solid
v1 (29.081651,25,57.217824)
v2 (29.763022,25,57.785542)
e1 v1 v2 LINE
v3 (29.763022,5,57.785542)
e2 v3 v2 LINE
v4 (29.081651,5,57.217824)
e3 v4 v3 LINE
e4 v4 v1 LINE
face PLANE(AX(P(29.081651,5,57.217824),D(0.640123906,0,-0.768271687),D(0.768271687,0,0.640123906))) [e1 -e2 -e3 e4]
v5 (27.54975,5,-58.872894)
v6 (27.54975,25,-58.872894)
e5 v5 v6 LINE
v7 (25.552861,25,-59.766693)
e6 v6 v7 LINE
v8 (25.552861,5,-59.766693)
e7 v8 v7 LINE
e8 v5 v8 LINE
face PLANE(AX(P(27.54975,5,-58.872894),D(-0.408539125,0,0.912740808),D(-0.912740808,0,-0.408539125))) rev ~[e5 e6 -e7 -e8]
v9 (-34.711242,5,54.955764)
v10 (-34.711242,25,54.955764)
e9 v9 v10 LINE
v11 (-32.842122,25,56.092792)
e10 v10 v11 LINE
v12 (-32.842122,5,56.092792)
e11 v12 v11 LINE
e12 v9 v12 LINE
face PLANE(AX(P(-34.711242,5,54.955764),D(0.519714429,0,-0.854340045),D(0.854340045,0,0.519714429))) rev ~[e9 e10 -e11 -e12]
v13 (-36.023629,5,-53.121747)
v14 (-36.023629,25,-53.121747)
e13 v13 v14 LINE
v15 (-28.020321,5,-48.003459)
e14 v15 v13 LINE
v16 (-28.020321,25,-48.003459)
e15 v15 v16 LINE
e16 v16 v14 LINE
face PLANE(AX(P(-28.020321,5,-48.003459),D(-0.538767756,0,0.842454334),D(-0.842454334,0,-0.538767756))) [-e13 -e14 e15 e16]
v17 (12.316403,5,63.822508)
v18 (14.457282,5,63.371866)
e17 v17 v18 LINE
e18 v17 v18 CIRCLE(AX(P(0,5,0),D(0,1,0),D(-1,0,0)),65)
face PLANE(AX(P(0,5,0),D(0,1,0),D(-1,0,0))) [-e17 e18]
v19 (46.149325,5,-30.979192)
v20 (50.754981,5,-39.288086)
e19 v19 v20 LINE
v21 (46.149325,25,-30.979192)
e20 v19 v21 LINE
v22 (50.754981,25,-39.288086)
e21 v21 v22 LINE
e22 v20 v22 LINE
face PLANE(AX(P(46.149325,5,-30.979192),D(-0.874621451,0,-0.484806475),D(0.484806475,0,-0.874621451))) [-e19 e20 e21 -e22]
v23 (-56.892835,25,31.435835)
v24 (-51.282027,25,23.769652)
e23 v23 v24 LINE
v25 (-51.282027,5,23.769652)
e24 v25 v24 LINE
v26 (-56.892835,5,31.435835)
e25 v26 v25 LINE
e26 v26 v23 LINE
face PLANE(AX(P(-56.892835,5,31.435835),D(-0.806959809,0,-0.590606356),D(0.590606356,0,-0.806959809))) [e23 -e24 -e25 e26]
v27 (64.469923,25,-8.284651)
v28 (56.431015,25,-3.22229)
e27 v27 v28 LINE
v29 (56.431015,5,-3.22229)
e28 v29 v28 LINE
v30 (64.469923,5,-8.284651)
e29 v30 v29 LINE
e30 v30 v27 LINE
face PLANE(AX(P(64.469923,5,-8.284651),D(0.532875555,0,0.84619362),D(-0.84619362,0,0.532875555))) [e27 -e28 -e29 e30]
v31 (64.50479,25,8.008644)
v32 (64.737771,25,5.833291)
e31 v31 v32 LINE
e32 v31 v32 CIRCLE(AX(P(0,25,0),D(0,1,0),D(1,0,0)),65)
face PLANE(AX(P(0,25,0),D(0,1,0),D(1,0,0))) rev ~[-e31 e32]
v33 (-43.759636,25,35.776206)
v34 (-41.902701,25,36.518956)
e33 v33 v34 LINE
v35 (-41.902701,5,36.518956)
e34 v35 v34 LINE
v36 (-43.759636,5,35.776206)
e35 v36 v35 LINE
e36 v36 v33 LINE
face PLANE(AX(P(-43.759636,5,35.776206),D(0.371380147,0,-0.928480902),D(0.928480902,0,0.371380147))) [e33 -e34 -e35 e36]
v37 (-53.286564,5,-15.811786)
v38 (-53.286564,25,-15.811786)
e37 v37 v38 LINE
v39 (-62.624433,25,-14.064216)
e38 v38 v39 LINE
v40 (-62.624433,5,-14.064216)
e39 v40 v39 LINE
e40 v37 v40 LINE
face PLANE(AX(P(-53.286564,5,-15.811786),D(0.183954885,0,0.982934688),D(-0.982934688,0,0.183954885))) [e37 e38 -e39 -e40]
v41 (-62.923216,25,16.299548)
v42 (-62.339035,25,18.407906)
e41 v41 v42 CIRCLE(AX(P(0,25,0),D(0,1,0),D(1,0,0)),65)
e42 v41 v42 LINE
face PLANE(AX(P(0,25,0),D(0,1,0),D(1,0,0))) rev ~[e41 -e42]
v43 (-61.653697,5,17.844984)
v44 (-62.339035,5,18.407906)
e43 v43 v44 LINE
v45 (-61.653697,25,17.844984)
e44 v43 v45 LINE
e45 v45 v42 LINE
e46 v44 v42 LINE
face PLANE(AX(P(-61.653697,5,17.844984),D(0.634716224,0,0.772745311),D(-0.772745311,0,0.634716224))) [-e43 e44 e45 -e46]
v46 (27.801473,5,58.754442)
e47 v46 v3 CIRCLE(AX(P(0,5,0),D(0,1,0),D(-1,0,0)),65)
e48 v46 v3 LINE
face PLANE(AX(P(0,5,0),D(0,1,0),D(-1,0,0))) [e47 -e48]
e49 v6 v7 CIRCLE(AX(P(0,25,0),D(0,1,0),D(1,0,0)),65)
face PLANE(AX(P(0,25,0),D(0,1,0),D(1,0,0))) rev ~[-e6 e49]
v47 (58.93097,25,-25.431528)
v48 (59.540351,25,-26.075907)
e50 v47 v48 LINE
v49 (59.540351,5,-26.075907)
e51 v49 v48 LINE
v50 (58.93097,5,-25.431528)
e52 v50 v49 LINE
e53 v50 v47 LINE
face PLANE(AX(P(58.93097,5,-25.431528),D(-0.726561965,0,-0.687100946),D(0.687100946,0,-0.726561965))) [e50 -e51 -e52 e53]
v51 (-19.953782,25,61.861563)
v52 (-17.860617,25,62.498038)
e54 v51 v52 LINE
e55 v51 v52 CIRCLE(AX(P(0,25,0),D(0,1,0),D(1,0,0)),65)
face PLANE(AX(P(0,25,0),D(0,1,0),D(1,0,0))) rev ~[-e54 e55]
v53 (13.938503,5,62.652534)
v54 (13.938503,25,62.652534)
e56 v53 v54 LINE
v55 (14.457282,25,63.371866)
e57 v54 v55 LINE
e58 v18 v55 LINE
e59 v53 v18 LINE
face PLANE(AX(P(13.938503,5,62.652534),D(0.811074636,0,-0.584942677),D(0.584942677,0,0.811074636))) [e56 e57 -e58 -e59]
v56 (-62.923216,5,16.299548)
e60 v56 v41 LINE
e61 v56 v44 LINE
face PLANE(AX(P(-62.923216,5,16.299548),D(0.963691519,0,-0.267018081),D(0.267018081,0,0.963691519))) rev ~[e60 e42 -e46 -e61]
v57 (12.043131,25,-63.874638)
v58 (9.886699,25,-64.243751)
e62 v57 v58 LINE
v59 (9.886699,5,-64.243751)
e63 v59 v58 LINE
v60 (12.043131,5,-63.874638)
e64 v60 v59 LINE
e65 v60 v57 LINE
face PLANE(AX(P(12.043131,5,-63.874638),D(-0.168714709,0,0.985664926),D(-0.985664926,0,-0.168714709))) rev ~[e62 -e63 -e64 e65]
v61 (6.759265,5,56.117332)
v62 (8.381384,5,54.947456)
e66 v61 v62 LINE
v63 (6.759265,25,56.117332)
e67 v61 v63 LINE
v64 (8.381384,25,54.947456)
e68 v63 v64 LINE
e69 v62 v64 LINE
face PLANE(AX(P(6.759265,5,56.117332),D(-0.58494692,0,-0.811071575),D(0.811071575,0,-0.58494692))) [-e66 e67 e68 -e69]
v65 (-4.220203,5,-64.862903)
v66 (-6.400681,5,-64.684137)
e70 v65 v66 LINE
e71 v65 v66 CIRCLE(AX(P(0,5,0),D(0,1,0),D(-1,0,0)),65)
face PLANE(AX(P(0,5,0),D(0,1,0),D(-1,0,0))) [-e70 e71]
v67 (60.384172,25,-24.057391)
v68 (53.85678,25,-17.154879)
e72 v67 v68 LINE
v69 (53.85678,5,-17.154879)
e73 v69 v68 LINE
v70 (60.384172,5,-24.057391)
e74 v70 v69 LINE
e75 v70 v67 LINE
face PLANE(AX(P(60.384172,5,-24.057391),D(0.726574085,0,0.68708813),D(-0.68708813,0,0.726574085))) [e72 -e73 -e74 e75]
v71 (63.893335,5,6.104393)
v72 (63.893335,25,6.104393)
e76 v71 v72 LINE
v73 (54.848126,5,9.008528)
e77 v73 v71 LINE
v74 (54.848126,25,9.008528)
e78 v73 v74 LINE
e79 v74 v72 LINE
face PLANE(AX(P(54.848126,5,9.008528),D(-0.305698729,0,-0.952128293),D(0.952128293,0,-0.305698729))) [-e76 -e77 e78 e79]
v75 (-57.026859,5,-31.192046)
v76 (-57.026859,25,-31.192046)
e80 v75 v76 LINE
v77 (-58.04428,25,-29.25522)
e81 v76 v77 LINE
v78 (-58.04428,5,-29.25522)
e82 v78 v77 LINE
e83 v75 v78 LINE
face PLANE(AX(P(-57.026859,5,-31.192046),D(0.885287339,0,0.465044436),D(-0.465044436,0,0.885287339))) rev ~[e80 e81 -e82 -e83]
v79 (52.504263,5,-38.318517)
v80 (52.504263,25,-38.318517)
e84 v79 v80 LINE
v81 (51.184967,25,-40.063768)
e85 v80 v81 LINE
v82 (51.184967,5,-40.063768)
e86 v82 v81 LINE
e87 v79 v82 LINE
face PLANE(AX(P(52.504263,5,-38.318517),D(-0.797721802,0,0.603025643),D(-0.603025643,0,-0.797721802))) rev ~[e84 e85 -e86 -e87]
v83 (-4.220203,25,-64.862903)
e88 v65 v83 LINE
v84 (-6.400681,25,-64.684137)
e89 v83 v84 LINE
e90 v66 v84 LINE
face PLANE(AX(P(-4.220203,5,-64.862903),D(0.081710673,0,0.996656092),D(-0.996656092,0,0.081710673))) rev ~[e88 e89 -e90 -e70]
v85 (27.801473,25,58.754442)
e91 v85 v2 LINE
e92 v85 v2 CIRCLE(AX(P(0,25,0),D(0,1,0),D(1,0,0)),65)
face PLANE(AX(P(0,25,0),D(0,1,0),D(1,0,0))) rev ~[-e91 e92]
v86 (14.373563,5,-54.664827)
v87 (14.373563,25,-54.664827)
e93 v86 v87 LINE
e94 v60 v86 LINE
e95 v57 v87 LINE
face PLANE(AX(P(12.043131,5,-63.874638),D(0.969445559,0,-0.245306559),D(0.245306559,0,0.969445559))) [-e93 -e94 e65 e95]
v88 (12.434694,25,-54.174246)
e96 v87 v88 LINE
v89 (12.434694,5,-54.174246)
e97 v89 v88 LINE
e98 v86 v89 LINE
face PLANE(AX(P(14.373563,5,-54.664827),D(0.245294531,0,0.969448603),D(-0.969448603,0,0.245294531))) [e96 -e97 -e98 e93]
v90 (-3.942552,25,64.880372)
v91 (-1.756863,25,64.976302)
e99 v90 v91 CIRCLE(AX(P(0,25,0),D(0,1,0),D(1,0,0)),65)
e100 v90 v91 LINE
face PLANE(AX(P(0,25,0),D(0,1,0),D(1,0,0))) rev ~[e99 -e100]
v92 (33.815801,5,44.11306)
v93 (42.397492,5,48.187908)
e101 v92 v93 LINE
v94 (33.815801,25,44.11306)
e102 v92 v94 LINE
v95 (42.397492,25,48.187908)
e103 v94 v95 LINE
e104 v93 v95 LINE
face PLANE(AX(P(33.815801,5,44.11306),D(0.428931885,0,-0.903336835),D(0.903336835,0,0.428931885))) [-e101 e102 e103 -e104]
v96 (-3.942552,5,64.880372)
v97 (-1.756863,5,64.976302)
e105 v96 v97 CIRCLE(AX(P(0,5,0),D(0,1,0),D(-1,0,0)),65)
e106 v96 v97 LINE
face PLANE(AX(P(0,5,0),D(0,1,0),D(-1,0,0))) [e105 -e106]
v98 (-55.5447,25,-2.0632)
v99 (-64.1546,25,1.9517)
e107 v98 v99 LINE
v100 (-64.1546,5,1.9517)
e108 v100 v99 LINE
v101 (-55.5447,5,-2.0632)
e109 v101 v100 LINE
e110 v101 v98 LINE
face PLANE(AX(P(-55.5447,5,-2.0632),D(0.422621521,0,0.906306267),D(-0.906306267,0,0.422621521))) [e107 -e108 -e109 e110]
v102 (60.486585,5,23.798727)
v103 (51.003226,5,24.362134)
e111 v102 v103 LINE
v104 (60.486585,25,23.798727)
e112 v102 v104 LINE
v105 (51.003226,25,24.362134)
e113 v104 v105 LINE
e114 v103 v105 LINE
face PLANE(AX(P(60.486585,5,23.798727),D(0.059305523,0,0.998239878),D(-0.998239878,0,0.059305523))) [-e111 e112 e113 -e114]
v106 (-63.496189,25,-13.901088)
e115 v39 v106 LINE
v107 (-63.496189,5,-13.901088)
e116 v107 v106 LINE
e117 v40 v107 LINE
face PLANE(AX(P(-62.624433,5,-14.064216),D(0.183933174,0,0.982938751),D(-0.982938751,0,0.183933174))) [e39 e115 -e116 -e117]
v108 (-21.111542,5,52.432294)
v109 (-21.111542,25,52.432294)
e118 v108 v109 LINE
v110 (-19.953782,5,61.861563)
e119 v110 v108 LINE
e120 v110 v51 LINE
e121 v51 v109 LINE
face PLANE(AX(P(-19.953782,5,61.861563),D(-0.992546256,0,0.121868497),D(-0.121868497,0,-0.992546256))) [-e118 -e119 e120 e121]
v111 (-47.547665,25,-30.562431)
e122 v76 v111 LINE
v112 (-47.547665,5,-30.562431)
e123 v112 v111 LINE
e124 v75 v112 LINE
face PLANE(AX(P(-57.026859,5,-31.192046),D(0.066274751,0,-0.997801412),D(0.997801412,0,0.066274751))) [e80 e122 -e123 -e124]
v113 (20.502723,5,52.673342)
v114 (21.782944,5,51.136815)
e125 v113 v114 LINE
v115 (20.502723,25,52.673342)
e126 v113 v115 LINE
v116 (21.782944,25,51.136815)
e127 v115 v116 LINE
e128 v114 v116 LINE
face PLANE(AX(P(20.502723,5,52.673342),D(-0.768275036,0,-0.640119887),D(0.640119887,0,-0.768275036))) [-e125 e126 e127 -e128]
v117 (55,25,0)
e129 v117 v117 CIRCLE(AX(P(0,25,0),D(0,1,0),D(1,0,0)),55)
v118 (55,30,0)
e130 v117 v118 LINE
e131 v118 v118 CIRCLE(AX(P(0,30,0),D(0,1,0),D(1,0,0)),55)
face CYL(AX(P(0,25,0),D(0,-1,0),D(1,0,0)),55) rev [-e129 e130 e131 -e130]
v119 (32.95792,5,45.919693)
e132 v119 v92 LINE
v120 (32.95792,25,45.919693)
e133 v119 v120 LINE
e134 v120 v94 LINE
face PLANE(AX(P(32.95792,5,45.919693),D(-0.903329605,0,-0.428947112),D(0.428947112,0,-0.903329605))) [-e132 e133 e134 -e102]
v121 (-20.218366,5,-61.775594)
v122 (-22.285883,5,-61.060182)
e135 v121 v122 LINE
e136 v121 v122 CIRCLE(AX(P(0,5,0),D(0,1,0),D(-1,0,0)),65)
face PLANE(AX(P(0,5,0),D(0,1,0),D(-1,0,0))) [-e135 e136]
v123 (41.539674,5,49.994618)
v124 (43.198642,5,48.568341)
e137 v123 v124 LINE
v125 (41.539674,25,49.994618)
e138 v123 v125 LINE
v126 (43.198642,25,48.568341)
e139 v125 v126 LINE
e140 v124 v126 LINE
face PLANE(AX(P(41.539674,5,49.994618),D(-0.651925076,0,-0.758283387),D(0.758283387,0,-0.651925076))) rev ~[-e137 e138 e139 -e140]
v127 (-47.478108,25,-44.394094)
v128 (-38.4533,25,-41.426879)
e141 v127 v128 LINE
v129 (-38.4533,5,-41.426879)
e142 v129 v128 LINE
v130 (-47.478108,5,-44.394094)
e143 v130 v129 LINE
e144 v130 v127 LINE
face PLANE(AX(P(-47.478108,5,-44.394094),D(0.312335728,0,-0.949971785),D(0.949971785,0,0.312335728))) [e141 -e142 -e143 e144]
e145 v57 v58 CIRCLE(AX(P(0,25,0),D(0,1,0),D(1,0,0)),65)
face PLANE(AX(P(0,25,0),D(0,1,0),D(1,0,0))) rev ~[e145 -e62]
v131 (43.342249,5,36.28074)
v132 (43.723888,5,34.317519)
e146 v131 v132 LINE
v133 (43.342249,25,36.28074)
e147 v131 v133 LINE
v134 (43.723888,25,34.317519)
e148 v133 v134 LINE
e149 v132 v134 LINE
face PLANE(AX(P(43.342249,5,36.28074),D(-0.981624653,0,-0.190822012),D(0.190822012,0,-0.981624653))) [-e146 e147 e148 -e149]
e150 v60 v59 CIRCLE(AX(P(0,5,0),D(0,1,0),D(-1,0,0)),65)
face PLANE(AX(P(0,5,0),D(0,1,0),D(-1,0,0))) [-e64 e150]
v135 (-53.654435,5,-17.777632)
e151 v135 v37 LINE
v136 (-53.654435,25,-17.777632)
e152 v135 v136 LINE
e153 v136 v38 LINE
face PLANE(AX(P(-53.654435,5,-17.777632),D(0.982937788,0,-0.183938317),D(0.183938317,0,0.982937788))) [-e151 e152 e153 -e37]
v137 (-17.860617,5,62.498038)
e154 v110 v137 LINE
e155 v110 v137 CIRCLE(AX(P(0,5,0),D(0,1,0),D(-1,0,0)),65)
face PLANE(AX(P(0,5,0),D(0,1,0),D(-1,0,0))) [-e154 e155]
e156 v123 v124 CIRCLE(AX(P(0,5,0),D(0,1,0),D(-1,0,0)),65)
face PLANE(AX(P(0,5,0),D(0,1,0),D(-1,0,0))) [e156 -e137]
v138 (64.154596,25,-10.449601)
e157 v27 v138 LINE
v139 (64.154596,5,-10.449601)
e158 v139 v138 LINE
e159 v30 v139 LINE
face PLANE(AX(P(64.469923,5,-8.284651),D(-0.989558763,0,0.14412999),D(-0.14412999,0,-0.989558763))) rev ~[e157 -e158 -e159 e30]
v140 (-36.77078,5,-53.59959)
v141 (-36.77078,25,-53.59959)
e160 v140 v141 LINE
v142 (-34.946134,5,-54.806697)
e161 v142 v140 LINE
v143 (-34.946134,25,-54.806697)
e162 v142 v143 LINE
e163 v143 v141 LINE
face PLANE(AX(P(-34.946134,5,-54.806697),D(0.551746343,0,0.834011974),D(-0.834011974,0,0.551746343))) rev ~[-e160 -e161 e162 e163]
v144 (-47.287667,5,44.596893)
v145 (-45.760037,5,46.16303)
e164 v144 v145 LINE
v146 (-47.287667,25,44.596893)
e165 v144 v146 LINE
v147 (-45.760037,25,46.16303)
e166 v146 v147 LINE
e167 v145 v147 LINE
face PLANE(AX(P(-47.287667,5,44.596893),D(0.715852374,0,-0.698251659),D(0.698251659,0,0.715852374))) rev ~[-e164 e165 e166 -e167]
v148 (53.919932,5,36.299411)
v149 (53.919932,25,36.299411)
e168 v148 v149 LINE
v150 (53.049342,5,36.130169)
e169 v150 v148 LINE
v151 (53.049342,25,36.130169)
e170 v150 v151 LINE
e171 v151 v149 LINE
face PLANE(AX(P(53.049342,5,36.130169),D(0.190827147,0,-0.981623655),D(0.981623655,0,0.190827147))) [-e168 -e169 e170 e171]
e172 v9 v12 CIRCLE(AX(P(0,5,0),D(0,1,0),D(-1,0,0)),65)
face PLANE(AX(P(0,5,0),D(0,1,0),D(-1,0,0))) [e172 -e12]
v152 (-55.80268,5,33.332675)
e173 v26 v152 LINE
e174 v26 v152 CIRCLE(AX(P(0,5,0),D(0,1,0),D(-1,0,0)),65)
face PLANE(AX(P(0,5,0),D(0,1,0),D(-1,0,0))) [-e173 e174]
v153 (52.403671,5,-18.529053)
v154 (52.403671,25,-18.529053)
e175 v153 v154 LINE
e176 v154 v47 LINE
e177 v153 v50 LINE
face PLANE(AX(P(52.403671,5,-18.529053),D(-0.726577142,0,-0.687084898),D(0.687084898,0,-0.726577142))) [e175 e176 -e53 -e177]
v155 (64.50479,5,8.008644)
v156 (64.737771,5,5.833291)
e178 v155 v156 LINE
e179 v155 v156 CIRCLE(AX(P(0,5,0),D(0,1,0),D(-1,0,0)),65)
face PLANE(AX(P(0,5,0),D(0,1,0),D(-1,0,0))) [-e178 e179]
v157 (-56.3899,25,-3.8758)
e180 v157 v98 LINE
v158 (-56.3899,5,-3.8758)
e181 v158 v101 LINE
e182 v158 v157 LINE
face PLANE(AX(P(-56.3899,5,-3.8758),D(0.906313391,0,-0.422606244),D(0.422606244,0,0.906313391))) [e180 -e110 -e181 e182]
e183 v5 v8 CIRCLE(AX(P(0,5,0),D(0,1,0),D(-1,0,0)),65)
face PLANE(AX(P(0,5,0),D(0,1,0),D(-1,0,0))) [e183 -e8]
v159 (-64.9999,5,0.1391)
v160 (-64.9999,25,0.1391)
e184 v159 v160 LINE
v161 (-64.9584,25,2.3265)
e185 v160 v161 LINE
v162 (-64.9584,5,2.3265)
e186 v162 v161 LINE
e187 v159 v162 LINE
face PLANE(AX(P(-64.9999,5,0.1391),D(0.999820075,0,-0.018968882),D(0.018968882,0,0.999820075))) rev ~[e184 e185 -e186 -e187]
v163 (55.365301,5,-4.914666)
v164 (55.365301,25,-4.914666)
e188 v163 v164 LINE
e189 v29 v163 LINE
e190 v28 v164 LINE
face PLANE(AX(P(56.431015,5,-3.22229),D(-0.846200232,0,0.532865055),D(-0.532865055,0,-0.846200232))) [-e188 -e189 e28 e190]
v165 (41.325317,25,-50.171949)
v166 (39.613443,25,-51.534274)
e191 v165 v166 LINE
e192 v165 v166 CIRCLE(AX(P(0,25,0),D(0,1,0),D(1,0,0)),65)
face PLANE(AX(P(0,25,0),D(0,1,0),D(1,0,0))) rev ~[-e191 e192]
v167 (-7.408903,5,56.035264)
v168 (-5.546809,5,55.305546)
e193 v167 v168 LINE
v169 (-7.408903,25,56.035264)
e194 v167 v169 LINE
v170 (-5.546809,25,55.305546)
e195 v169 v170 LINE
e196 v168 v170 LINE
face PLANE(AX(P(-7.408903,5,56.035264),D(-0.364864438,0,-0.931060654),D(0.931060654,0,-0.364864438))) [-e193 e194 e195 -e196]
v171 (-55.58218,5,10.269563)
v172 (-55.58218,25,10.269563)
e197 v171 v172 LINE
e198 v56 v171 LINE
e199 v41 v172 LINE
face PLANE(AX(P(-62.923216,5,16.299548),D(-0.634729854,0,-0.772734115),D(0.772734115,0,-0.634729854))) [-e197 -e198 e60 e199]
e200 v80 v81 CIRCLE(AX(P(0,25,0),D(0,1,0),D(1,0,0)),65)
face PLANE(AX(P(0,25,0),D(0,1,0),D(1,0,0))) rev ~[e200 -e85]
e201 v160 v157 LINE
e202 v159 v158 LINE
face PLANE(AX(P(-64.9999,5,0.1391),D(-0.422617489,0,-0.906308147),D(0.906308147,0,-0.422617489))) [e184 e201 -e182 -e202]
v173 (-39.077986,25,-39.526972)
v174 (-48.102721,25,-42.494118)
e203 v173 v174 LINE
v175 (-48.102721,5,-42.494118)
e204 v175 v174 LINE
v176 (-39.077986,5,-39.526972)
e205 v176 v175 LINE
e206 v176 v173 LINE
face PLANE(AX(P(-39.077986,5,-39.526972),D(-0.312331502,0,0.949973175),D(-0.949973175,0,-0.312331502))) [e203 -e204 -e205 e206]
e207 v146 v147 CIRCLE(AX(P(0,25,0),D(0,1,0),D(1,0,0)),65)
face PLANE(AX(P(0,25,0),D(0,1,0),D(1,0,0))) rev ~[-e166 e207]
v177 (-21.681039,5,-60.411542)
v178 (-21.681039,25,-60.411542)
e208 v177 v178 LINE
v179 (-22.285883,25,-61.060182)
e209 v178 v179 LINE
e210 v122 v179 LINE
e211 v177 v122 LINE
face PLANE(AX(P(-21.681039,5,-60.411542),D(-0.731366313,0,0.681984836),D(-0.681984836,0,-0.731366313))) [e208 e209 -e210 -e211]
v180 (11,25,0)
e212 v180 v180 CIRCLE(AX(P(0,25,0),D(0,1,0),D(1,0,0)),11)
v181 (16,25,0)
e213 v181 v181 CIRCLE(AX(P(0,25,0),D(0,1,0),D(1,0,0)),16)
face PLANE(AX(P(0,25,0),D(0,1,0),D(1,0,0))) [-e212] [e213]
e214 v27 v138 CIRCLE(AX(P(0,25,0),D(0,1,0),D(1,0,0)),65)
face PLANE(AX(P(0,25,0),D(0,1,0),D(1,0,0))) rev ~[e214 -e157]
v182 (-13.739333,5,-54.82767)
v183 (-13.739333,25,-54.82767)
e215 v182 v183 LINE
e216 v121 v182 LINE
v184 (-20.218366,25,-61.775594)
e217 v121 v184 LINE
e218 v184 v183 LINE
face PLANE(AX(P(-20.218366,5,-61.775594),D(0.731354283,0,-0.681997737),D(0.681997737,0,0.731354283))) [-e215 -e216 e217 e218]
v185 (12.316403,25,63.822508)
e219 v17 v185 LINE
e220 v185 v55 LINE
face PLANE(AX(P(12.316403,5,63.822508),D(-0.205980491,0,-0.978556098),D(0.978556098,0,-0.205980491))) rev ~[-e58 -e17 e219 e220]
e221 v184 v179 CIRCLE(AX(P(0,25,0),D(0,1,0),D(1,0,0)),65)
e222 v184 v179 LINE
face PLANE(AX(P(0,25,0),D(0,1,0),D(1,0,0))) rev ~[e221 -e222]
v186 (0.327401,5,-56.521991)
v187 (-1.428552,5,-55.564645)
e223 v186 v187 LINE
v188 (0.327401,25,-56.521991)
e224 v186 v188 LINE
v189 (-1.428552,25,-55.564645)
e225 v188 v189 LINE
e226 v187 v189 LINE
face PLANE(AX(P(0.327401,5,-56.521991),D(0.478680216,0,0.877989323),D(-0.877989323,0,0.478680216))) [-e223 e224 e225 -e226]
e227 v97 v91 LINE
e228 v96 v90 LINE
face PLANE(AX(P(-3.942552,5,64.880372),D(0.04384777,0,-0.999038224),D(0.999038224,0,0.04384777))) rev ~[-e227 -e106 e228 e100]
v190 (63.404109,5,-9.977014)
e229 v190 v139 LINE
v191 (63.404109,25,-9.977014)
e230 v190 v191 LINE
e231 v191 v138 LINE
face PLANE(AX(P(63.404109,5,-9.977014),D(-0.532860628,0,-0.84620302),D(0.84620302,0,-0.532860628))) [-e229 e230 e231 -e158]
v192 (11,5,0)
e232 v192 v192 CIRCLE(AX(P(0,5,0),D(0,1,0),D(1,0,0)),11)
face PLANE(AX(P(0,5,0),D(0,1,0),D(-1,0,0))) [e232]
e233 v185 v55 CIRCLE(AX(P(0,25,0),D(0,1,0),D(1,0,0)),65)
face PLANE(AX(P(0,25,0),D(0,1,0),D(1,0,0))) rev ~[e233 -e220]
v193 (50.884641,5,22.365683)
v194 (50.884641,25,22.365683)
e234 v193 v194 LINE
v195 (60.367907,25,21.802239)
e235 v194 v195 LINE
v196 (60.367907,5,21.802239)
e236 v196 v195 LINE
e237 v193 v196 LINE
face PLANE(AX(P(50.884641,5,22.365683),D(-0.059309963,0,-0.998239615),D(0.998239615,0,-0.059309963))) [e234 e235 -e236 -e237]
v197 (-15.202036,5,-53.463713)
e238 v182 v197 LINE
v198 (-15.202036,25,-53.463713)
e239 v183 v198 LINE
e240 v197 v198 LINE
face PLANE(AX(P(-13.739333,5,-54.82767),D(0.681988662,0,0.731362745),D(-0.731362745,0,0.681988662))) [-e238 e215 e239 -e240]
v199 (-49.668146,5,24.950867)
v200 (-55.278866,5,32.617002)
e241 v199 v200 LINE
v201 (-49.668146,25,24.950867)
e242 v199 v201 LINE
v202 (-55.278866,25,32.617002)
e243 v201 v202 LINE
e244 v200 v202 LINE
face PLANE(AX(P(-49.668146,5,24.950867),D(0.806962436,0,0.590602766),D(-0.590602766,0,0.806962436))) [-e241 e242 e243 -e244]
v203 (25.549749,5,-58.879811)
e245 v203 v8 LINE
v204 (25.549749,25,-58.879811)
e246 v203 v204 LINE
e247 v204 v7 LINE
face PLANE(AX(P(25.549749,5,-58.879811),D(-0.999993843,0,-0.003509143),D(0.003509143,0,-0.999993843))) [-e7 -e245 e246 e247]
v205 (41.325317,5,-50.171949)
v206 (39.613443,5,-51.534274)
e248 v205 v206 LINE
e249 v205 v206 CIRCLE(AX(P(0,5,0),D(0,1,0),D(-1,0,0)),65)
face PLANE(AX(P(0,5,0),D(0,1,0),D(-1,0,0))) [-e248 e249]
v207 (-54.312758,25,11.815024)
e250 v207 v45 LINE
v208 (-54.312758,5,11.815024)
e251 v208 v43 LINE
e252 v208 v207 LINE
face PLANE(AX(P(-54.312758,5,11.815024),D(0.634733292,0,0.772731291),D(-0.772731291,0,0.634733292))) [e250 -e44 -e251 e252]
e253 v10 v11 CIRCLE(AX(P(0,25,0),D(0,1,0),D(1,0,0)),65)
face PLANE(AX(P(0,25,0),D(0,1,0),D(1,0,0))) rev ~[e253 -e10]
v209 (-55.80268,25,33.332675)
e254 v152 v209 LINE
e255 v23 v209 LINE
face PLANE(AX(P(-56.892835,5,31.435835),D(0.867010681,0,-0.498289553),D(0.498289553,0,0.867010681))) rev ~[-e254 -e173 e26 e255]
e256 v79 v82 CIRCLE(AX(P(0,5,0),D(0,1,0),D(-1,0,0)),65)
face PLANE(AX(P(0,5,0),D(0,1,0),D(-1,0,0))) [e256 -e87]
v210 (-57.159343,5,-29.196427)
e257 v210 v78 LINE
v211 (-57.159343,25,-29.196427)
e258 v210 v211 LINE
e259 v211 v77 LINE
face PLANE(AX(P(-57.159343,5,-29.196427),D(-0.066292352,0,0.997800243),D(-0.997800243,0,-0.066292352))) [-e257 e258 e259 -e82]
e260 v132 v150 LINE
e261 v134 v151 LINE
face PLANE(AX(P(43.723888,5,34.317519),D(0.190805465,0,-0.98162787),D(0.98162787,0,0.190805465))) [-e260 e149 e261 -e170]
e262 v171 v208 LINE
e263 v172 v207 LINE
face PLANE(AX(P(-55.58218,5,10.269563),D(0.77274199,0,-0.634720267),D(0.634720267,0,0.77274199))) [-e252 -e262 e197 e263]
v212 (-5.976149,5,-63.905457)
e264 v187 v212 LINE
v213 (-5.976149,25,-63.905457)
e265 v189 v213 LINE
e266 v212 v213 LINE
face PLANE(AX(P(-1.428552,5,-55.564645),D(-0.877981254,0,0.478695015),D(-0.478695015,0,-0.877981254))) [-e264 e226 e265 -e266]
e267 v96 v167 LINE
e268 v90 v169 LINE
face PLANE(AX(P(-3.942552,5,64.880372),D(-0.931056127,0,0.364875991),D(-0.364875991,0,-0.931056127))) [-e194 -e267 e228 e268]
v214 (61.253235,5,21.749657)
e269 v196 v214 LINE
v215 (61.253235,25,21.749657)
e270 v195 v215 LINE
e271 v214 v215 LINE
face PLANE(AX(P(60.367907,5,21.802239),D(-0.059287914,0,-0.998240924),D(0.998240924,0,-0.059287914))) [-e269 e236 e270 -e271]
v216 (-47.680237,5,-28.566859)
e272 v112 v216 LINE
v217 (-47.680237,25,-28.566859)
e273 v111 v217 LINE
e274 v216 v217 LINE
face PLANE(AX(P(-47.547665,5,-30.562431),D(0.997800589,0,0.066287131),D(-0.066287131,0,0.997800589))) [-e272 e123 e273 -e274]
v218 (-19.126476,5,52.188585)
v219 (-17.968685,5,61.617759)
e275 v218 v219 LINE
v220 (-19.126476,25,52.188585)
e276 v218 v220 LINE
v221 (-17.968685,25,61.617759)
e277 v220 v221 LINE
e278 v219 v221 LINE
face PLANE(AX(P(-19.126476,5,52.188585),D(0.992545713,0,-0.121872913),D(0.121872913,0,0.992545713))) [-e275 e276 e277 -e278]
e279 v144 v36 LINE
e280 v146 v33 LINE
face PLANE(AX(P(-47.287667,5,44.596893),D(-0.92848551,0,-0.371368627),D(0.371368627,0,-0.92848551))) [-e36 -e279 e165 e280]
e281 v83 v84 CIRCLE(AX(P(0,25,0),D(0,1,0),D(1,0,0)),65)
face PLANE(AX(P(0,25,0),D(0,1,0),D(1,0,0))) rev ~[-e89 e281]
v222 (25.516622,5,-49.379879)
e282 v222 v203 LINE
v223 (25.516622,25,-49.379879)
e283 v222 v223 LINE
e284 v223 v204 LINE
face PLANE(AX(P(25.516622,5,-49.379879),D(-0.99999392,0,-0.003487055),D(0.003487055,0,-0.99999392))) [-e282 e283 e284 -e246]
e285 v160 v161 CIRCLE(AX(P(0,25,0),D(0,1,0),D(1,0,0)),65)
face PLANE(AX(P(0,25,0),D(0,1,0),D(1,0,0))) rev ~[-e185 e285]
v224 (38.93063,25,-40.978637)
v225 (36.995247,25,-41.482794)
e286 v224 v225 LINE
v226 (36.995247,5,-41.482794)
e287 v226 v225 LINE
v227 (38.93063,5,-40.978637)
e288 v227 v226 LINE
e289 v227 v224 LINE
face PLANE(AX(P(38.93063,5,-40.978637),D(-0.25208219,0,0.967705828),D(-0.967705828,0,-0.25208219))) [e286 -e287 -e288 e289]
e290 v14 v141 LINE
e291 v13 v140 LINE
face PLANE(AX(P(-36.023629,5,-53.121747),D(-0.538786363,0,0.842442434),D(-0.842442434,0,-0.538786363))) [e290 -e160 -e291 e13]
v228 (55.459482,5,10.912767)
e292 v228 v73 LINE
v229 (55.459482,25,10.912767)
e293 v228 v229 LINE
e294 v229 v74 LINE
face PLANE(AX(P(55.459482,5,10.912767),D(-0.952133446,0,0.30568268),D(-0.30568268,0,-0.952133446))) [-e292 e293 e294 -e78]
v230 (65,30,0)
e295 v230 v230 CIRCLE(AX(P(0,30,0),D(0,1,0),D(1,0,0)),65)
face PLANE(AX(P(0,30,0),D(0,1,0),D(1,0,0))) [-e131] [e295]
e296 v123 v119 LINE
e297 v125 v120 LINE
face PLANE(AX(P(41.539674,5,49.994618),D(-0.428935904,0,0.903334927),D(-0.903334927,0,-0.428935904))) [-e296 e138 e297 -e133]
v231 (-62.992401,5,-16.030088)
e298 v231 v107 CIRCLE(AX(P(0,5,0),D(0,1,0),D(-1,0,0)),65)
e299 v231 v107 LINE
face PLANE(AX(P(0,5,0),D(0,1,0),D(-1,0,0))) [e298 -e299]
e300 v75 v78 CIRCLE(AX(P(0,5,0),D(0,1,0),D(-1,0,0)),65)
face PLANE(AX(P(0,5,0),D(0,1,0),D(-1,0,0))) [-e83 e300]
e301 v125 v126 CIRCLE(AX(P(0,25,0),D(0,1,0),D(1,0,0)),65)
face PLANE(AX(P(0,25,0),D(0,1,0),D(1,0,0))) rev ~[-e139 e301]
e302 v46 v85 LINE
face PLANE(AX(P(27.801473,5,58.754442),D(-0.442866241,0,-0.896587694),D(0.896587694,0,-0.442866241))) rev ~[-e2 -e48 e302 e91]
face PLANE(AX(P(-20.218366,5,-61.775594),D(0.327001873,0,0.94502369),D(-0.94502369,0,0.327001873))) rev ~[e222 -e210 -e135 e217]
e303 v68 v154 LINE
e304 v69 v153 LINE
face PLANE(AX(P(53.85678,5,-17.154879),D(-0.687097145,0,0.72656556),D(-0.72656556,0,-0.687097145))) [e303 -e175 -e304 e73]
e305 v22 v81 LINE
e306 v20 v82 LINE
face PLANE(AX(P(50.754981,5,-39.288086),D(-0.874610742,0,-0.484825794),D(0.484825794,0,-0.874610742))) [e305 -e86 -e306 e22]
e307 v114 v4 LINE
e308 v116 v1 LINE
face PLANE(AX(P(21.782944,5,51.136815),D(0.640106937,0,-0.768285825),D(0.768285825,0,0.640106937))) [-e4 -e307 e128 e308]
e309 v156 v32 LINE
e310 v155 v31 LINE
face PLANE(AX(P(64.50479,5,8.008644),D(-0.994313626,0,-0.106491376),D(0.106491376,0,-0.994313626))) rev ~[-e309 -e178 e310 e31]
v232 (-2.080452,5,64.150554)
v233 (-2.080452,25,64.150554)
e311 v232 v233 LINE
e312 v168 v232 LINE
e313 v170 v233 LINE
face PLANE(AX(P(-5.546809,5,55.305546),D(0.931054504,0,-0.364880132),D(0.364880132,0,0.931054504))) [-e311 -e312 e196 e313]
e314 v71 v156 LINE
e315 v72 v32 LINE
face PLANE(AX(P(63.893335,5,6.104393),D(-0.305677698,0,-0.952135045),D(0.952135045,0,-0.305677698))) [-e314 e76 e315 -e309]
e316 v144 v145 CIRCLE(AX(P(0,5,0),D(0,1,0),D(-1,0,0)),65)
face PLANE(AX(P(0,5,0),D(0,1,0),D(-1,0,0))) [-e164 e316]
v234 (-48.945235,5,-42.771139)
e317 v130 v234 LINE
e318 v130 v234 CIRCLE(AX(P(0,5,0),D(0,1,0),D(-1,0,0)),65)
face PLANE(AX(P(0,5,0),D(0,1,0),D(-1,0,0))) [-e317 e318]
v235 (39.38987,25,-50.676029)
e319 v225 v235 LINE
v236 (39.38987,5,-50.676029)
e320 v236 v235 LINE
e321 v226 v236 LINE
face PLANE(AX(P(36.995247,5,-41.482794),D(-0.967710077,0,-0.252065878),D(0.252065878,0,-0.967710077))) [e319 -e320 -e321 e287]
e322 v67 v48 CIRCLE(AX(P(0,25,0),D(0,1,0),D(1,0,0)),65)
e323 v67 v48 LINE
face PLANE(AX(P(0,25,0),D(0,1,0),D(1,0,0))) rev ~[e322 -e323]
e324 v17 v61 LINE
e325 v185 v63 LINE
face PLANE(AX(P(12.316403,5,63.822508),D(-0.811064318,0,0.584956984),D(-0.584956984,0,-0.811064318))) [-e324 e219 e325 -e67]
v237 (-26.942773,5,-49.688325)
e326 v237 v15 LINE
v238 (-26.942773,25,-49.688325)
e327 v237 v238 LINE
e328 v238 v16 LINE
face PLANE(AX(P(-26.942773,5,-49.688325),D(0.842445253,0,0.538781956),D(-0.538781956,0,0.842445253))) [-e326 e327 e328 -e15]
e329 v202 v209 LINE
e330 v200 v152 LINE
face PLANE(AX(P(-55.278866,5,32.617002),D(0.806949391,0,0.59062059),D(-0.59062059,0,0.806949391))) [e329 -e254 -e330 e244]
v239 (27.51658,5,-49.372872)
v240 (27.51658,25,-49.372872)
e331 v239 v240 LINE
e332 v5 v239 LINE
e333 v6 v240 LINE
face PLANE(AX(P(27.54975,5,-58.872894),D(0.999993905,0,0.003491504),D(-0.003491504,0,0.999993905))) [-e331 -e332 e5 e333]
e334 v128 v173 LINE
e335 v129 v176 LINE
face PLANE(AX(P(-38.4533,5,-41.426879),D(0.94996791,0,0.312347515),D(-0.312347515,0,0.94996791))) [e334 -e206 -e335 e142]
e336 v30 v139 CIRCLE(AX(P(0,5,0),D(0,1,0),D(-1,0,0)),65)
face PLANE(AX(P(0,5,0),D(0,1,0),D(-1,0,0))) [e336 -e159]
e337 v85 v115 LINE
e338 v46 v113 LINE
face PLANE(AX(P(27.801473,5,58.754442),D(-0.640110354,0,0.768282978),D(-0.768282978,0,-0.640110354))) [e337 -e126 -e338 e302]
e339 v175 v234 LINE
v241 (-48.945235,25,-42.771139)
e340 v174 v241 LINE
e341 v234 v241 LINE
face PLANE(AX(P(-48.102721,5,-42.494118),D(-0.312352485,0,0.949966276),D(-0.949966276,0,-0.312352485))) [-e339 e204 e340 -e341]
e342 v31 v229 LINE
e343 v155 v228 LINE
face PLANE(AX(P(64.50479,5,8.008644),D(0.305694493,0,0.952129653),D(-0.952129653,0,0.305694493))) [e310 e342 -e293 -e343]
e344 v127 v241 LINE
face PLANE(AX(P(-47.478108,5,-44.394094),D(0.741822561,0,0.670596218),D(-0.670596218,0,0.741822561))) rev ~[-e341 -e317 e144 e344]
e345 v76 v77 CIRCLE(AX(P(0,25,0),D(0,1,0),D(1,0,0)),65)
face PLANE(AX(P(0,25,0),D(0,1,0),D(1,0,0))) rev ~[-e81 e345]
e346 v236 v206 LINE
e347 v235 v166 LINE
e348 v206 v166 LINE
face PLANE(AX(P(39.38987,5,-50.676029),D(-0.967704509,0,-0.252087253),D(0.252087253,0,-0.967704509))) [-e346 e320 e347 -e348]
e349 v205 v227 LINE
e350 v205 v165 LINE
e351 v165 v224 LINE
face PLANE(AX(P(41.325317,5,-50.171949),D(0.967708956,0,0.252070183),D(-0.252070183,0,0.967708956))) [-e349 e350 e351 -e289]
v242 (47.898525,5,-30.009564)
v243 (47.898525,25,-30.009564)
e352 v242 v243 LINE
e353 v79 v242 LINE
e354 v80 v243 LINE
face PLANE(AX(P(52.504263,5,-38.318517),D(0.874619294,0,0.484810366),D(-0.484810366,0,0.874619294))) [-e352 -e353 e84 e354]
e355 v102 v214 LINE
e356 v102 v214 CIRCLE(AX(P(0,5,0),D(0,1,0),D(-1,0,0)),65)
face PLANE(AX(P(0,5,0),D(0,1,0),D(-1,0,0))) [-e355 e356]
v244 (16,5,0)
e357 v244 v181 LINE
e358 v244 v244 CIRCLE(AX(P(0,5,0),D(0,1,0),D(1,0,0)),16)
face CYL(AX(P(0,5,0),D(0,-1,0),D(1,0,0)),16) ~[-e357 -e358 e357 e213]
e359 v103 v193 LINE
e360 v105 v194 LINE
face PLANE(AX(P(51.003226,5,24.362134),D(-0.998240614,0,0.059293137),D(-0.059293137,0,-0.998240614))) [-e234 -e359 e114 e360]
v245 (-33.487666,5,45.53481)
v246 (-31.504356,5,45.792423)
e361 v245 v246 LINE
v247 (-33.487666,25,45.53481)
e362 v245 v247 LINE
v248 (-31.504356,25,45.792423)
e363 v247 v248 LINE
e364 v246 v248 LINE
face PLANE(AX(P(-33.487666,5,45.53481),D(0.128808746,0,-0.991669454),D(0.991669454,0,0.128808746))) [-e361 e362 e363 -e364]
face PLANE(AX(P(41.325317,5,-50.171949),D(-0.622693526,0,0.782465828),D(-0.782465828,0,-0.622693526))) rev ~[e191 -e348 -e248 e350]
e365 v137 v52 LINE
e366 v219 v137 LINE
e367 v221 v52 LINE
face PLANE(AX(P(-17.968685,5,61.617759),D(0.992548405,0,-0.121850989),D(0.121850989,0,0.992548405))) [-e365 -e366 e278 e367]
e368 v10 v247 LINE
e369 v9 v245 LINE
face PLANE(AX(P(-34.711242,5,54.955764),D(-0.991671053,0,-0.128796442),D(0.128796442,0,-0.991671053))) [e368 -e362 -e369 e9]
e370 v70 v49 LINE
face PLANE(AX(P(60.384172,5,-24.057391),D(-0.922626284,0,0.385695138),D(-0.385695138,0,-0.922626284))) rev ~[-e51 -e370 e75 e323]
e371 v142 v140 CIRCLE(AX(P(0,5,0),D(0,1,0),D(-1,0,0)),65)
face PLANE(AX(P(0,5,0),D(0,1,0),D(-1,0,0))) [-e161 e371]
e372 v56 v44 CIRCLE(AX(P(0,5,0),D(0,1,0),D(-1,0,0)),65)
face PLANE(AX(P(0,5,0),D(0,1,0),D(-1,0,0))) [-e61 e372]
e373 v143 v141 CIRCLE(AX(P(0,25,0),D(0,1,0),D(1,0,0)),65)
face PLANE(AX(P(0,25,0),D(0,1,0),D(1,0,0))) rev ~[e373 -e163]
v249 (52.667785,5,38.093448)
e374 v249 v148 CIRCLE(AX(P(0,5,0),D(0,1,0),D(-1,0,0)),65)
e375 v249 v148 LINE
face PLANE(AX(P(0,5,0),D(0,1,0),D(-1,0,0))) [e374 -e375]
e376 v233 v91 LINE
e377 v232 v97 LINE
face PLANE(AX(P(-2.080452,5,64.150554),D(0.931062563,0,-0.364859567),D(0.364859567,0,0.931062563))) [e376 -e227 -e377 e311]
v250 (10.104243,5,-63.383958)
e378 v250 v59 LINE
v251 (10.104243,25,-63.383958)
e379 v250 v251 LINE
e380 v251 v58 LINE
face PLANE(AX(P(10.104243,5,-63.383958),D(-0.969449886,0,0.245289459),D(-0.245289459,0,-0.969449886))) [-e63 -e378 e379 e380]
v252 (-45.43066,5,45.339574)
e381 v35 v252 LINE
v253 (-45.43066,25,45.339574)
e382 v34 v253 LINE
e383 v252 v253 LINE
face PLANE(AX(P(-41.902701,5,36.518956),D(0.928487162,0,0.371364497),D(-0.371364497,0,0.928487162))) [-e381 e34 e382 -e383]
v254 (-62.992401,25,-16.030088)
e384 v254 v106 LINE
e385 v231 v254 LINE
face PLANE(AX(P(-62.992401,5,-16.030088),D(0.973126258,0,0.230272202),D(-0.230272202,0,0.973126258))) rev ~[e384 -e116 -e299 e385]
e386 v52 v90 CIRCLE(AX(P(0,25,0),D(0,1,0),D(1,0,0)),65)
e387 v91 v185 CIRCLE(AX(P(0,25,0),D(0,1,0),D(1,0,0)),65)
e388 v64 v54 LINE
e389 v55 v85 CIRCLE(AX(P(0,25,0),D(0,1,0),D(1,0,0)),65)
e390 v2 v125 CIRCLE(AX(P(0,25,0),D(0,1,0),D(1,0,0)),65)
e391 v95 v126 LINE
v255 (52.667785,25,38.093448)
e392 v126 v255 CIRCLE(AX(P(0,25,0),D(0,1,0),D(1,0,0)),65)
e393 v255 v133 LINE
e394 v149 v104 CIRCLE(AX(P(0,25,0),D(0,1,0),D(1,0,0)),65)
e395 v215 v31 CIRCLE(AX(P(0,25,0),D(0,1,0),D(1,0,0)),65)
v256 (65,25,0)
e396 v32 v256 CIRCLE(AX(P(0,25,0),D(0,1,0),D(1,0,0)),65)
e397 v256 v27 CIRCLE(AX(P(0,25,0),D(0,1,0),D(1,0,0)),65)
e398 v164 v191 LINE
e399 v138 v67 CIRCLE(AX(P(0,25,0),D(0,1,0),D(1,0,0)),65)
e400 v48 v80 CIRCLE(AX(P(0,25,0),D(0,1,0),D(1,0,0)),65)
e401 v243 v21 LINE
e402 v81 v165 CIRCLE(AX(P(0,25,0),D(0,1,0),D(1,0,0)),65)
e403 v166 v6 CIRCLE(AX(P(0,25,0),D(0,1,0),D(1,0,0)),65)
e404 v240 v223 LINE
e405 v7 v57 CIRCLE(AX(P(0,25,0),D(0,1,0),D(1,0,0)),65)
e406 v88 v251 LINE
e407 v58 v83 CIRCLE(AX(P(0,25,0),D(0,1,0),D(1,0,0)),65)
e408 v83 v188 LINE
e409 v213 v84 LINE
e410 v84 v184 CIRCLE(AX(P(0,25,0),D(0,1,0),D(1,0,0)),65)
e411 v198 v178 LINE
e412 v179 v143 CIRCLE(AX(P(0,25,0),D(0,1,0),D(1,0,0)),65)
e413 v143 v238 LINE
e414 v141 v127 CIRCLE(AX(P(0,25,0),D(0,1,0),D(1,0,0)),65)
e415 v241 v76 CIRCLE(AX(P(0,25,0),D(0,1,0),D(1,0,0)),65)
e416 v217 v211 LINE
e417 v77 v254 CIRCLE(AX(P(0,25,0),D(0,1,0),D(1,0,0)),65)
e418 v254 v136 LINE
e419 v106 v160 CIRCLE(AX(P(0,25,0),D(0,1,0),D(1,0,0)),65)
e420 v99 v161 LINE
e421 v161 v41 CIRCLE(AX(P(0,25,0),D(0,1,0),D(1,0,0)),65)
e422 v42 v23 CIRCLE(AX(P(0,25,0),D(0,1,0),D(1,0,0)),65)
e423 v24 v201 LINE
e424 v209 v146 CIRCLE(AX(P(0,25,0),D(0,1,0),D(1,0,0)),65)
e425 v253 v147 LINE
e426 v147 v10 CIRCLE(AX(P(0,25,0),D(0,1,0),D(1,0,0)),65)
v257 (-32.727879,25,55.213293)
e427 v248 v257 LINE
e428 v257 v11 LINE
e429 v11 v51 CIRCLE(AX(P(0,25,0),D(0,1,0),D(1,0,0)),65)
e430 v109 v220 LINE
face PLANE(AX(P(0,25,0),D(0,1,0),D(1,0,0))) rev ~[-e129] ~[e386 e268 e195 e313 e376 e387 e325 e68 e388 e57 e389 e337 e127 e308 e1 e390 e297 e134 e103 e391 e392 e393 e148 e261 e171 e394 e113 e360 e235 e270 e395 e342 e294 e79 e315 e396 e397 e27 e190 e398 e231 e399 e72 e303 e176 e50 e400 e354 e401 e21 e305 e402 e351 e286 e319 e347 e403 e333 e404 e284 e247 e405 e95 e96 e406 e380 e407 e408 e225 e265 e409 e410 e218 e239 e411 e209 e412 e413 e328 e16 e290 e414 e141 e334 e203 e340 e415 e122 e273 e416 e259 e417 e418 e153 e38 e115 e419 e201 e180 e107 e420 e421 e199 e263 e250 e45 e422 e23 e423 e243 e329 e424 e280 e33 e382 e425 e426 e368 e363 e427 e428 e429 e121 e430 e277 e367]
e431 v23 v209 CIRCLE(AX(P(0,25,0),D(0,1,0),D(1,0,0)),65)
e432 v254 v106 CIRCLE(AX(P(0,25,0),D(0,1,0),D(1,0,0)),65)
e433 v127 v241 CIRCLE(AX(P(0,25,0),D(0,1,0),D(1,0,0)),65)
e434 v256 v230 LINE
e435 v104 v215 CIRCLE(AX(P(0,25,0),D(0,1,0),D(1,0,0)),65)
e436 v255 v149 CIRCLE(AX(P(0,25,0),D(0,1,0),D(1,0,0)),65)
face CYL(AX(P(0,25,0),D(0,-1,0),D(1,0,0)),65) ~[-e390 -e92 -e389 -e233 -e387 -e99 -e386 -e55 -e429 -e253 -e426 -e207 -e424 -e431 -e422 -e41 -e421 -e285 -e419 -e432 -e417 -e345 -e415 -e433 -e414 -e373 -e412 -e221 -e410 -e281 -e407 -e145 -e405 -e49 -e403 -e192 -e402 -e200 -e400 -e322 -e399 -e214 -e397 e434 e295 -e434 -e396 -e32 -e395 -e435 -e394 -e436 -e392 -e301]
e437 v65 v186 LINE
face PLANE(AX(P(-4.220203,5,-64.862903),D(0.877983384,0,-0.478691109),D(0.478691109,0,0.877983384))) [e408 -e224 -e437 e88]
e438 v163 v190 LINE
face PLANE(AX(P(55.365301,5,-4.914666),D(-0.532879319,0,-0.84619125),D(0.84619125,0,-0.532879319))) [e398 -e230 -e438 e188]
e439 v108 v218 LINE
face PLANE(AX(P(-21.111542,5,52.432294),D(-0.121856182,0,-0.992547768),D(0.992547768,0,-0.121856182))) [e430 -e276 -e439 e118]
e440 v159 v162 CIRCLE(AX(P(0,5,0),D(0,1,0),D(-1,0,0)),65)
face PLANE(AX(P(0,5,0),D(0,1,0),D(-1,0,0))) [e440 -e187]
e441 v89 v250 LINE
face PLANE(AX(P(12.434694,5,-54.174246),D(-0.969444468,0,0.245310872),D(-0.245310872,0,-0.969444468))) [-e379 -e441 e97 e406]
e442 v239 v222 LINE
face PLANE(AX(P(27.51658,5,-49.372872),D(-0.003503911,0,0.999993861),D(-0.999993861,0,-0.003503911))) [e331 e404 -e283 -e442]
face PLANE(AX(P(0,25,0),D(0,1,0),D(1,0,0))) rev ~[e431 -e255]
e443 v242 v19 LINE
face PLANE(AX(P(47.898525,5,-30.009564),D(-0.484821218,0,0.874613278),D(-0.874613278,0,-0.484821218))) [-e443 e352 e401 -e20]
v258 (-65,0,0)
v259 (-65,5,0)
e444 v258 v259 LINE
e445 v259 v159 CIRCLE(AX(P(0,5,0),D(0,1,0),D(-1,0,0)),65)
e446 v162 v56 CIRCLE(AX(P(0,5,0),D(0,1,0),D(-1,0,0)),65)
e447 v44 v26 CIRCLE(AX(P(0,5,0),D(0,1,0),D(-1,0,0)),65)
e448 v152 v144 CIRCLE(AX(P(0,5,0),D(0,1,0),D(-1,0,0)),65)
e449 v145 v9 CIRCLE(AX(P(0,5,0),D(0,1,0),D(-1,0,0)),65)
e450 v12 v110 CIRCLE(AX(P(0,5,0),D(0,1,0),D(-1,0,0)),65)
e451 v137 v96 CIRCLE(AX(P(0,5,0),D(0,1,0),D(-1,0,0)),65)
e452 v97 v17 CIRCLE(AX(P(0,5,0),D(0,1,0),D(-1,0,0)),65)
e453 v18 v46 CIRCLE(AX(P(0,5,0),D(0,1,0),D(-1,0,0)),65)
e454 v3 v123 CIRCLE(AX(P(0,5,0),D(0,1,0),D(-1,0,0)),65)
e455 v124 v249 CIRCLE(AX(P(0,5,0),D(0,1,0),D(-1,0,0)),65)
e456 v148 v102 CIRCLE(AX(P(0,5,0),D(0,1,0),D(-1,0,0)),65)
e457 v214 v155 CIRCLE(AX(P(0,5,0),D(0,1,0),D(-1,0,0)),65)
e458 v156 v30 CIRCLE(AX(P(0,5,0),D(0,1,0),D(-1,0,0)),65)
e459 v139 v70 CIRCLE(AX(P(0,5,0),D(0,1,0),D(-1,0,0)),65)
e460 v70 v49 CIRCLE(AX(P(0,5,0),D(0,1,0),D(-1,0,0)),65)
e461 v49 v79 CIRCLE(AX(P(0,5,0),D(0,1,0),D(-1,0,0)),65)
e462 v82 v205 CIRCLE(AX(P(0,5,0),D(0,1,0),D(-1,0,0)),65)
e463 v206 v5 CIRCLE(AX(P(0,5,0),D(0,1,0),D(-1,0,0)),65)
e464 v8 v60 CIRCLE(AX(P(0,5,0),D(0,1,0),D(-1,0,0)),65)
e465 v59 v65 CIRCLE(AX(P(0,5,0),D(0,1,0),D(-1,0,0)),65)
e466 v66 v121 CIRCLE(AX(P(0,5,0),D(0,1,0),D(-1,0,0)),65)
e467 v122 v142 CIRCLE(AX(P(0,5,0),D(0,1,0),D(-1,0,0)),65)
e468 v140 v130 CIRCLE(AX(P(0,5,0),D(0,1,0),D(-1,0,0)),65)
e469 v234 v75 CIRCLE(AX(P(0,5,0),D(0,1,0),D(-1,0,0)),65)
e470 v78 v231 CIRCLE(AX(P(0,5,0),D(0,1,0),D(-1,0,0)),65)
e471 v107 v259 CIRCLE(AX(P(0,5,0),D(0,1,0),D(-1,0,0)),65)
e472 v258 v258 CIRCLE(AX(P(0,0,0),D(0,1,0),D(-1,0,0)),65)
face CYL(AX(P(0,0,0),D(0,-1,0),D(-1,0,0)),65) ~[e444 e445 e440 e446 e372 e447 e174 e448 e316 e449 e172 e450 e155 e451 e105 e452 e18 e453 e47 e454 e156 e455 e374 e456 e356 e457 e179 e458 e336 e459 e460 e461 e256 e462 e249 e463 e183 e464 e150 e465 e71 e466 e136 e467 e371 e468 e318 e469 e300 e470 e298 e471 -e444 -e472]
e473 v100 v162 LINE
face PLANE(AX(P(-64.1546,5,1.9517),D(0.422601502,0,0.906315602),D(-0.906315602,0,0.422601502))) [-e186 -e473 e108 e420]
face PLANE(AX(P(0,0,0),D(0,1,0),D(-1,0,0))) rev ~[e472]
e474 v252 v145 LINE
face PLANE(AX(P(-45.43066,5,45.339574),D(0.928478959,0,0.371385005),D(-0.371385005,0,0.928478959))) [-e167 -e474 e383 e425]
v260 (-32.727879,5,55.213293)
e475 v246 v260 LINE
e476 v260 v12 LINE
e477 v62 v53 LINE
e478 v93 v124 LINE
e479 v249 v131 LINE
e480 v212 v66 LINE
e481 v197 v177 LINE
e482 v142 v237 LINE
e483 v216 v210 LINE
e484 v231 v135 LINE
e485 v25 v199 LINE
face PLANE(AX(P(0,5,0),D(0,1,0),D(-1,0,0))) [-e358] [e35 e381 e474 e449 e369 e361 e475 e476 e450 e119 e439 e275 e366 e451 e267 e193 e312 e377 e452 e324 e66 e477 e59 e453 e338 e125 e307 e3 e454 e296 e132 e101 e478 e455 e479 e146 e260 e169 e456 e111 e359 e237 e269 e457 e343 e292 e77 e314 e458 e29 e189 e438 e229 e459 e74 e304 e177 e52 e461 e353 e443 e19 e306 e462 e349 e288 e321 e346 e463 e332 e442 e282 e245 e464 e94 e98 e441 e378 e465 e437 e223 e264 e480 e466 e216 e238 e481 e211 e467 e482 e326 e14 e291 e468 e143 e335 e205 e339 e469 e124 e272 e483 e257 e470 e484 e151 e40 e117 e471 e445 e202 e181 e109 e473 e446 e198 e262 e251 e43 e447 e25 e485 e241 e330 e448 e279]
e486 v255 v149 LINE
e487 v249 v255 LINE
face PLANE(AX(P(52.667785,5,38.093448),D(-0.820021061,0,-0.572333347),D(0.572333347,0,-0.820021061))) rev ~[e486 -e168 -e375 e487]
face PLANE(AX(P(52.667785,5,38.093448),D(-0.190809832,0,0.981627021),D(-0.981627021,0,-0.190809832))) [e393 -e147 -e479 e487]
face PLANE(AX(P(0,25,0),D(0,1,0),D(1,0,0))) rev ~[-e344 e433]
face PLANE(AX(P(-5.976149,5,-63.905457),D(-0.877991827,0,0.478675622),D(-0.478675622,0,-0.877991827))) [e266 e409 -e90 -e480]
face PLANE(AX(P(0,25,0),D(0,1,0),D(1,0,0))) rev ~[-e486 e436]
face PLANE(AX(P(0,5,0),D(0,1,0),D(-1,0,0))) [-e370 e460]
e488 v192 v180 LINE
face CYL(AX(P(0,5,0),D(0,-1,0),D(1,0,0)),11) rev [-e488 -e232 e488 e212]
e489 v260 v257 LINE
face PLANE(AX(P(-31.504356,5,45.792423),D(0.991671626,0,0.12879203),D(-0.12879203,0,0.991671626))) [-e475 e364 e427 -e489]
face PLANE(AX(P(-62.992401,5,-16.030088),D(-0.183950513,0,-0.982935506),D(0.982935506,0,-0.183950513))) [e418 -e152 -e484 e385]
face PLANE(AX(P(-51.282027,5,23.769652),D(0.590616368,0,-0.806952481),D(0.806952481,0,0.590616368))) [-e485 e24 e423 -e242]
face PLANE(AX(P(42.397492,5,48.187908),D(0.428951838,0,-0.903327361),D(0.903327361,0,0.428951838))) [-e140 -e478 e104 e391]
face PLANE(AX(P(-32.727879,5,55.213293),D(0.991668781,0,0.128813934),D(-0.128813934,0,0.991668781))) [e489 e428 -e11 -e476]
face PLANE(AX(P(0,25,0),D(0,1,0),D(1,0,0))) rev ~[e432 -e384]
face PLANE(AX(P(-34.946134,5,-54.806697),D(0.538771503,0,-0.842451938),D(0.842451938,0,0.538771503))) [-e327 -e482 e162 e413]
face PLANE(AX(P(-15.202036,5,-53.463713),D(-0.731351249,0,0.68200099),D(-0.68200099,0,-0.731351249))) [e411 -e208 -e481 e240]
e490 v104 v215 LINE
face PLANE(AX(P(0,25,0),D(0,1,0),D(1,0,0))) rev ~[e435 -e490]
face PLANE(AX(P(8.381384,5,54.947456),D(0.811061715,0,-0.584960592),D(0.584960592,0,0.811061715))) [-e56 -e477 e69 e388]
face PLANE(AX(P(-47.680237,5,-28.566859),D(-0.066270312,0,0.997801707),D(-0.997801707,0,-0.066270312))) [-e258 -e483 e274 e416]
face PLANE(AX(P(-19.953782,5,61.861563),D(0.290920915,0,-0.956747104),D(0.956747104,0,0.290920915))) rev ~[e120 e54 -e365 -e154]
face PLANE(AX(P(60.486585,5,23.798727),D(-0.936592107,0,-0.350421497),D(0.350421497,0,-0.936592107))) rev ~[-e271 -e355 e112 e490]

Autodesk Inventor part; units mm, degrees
ref_plane "YZ Plane" through (0, 0, 0) normal (1, 0, 0) x (0, 1, 0)
ref_plane "XZ Plane" through (0, 0, 0) normal (0, 1, 0) x (-1, 0, 0)
ref_plane "XY Plane" through (0, 0, 0) normal (0, 0, 1) x (1, 0, 0)
sketch "スケッチ1" plane through (0, 0, 0) normal (0, 1, 0) x (-1, 0, 0)
  circle A0 centre (0, 0) radius 65
  dimension "d0" = 130
extrude "押し出し1" add sketch "スケッチ1" along normal blind 5
sketch "スケッチ2" plane through (0, 5, 0) normal (0, 1, 0) x (1, 0, 0)
  circle A0 centre (0, 0) radius 65 projected
  line L0 (-64.9999, -0.1391) -> (-56.3899, 3.8758)
  line L1 (-56.3899, 3.8758) -> (-55.5447, 2.0632)
  line L2 (-55.5447, 2.0632) -> (-64.1546, -1.9517)
  line L3 (-64.1546, -1.9517) -> (-64.9999, -0.1391)
  line L4 (-64.9999, -0.1391) -> (-55.4999, -0.1391) construction
  line L5 (-64.1546, -1.9517) -> (-64.9584, -2.3265)
  line L6 (-64.9999, -0.1391) -> (-64.9584, -2.3265)
  dimension "d4" = 25
  dimension "d5" = 9.5
  dimension "d6" = 2
extrude "押し出し2" add sketch "スケッチ2" along normal blind 20 contours L0 L1 L2 L3 | L3 L5 L6
pattern_circular "円形状パターン1" count 25 over 360 about axis through (0, 0, 0) along (0, 1, 0) of "押し出し2"
sketch "スケッチ6" plane through (0, 5, 0) normal (0, 1, 0) x (1, 0, 0)
  circle A0 centre (0, 0) radius 16
  circle A1 centre (0, 0) radius 11
  dimension "d14" = 32
  dimension "d15" = 22
extrude "押し出し3" add sketch "スケッチ6" along normal blind 20
sketch "スケッチ7" plane through (0, 25, 0) normal (0, 1, 0) x (1, 0, 0)
  circle A0 centre (0, 0) radius 11 projected
  circle A1 centre (0, 0) radius 65
  circle A2 centre (0, 0) radius 55
  dimension "d18" = 130
  dimension "d19" = 110
extrude "押し出し4" add sketch "スケッチ7" along normal blind 5 contours A1
properties part number "taiya1"
